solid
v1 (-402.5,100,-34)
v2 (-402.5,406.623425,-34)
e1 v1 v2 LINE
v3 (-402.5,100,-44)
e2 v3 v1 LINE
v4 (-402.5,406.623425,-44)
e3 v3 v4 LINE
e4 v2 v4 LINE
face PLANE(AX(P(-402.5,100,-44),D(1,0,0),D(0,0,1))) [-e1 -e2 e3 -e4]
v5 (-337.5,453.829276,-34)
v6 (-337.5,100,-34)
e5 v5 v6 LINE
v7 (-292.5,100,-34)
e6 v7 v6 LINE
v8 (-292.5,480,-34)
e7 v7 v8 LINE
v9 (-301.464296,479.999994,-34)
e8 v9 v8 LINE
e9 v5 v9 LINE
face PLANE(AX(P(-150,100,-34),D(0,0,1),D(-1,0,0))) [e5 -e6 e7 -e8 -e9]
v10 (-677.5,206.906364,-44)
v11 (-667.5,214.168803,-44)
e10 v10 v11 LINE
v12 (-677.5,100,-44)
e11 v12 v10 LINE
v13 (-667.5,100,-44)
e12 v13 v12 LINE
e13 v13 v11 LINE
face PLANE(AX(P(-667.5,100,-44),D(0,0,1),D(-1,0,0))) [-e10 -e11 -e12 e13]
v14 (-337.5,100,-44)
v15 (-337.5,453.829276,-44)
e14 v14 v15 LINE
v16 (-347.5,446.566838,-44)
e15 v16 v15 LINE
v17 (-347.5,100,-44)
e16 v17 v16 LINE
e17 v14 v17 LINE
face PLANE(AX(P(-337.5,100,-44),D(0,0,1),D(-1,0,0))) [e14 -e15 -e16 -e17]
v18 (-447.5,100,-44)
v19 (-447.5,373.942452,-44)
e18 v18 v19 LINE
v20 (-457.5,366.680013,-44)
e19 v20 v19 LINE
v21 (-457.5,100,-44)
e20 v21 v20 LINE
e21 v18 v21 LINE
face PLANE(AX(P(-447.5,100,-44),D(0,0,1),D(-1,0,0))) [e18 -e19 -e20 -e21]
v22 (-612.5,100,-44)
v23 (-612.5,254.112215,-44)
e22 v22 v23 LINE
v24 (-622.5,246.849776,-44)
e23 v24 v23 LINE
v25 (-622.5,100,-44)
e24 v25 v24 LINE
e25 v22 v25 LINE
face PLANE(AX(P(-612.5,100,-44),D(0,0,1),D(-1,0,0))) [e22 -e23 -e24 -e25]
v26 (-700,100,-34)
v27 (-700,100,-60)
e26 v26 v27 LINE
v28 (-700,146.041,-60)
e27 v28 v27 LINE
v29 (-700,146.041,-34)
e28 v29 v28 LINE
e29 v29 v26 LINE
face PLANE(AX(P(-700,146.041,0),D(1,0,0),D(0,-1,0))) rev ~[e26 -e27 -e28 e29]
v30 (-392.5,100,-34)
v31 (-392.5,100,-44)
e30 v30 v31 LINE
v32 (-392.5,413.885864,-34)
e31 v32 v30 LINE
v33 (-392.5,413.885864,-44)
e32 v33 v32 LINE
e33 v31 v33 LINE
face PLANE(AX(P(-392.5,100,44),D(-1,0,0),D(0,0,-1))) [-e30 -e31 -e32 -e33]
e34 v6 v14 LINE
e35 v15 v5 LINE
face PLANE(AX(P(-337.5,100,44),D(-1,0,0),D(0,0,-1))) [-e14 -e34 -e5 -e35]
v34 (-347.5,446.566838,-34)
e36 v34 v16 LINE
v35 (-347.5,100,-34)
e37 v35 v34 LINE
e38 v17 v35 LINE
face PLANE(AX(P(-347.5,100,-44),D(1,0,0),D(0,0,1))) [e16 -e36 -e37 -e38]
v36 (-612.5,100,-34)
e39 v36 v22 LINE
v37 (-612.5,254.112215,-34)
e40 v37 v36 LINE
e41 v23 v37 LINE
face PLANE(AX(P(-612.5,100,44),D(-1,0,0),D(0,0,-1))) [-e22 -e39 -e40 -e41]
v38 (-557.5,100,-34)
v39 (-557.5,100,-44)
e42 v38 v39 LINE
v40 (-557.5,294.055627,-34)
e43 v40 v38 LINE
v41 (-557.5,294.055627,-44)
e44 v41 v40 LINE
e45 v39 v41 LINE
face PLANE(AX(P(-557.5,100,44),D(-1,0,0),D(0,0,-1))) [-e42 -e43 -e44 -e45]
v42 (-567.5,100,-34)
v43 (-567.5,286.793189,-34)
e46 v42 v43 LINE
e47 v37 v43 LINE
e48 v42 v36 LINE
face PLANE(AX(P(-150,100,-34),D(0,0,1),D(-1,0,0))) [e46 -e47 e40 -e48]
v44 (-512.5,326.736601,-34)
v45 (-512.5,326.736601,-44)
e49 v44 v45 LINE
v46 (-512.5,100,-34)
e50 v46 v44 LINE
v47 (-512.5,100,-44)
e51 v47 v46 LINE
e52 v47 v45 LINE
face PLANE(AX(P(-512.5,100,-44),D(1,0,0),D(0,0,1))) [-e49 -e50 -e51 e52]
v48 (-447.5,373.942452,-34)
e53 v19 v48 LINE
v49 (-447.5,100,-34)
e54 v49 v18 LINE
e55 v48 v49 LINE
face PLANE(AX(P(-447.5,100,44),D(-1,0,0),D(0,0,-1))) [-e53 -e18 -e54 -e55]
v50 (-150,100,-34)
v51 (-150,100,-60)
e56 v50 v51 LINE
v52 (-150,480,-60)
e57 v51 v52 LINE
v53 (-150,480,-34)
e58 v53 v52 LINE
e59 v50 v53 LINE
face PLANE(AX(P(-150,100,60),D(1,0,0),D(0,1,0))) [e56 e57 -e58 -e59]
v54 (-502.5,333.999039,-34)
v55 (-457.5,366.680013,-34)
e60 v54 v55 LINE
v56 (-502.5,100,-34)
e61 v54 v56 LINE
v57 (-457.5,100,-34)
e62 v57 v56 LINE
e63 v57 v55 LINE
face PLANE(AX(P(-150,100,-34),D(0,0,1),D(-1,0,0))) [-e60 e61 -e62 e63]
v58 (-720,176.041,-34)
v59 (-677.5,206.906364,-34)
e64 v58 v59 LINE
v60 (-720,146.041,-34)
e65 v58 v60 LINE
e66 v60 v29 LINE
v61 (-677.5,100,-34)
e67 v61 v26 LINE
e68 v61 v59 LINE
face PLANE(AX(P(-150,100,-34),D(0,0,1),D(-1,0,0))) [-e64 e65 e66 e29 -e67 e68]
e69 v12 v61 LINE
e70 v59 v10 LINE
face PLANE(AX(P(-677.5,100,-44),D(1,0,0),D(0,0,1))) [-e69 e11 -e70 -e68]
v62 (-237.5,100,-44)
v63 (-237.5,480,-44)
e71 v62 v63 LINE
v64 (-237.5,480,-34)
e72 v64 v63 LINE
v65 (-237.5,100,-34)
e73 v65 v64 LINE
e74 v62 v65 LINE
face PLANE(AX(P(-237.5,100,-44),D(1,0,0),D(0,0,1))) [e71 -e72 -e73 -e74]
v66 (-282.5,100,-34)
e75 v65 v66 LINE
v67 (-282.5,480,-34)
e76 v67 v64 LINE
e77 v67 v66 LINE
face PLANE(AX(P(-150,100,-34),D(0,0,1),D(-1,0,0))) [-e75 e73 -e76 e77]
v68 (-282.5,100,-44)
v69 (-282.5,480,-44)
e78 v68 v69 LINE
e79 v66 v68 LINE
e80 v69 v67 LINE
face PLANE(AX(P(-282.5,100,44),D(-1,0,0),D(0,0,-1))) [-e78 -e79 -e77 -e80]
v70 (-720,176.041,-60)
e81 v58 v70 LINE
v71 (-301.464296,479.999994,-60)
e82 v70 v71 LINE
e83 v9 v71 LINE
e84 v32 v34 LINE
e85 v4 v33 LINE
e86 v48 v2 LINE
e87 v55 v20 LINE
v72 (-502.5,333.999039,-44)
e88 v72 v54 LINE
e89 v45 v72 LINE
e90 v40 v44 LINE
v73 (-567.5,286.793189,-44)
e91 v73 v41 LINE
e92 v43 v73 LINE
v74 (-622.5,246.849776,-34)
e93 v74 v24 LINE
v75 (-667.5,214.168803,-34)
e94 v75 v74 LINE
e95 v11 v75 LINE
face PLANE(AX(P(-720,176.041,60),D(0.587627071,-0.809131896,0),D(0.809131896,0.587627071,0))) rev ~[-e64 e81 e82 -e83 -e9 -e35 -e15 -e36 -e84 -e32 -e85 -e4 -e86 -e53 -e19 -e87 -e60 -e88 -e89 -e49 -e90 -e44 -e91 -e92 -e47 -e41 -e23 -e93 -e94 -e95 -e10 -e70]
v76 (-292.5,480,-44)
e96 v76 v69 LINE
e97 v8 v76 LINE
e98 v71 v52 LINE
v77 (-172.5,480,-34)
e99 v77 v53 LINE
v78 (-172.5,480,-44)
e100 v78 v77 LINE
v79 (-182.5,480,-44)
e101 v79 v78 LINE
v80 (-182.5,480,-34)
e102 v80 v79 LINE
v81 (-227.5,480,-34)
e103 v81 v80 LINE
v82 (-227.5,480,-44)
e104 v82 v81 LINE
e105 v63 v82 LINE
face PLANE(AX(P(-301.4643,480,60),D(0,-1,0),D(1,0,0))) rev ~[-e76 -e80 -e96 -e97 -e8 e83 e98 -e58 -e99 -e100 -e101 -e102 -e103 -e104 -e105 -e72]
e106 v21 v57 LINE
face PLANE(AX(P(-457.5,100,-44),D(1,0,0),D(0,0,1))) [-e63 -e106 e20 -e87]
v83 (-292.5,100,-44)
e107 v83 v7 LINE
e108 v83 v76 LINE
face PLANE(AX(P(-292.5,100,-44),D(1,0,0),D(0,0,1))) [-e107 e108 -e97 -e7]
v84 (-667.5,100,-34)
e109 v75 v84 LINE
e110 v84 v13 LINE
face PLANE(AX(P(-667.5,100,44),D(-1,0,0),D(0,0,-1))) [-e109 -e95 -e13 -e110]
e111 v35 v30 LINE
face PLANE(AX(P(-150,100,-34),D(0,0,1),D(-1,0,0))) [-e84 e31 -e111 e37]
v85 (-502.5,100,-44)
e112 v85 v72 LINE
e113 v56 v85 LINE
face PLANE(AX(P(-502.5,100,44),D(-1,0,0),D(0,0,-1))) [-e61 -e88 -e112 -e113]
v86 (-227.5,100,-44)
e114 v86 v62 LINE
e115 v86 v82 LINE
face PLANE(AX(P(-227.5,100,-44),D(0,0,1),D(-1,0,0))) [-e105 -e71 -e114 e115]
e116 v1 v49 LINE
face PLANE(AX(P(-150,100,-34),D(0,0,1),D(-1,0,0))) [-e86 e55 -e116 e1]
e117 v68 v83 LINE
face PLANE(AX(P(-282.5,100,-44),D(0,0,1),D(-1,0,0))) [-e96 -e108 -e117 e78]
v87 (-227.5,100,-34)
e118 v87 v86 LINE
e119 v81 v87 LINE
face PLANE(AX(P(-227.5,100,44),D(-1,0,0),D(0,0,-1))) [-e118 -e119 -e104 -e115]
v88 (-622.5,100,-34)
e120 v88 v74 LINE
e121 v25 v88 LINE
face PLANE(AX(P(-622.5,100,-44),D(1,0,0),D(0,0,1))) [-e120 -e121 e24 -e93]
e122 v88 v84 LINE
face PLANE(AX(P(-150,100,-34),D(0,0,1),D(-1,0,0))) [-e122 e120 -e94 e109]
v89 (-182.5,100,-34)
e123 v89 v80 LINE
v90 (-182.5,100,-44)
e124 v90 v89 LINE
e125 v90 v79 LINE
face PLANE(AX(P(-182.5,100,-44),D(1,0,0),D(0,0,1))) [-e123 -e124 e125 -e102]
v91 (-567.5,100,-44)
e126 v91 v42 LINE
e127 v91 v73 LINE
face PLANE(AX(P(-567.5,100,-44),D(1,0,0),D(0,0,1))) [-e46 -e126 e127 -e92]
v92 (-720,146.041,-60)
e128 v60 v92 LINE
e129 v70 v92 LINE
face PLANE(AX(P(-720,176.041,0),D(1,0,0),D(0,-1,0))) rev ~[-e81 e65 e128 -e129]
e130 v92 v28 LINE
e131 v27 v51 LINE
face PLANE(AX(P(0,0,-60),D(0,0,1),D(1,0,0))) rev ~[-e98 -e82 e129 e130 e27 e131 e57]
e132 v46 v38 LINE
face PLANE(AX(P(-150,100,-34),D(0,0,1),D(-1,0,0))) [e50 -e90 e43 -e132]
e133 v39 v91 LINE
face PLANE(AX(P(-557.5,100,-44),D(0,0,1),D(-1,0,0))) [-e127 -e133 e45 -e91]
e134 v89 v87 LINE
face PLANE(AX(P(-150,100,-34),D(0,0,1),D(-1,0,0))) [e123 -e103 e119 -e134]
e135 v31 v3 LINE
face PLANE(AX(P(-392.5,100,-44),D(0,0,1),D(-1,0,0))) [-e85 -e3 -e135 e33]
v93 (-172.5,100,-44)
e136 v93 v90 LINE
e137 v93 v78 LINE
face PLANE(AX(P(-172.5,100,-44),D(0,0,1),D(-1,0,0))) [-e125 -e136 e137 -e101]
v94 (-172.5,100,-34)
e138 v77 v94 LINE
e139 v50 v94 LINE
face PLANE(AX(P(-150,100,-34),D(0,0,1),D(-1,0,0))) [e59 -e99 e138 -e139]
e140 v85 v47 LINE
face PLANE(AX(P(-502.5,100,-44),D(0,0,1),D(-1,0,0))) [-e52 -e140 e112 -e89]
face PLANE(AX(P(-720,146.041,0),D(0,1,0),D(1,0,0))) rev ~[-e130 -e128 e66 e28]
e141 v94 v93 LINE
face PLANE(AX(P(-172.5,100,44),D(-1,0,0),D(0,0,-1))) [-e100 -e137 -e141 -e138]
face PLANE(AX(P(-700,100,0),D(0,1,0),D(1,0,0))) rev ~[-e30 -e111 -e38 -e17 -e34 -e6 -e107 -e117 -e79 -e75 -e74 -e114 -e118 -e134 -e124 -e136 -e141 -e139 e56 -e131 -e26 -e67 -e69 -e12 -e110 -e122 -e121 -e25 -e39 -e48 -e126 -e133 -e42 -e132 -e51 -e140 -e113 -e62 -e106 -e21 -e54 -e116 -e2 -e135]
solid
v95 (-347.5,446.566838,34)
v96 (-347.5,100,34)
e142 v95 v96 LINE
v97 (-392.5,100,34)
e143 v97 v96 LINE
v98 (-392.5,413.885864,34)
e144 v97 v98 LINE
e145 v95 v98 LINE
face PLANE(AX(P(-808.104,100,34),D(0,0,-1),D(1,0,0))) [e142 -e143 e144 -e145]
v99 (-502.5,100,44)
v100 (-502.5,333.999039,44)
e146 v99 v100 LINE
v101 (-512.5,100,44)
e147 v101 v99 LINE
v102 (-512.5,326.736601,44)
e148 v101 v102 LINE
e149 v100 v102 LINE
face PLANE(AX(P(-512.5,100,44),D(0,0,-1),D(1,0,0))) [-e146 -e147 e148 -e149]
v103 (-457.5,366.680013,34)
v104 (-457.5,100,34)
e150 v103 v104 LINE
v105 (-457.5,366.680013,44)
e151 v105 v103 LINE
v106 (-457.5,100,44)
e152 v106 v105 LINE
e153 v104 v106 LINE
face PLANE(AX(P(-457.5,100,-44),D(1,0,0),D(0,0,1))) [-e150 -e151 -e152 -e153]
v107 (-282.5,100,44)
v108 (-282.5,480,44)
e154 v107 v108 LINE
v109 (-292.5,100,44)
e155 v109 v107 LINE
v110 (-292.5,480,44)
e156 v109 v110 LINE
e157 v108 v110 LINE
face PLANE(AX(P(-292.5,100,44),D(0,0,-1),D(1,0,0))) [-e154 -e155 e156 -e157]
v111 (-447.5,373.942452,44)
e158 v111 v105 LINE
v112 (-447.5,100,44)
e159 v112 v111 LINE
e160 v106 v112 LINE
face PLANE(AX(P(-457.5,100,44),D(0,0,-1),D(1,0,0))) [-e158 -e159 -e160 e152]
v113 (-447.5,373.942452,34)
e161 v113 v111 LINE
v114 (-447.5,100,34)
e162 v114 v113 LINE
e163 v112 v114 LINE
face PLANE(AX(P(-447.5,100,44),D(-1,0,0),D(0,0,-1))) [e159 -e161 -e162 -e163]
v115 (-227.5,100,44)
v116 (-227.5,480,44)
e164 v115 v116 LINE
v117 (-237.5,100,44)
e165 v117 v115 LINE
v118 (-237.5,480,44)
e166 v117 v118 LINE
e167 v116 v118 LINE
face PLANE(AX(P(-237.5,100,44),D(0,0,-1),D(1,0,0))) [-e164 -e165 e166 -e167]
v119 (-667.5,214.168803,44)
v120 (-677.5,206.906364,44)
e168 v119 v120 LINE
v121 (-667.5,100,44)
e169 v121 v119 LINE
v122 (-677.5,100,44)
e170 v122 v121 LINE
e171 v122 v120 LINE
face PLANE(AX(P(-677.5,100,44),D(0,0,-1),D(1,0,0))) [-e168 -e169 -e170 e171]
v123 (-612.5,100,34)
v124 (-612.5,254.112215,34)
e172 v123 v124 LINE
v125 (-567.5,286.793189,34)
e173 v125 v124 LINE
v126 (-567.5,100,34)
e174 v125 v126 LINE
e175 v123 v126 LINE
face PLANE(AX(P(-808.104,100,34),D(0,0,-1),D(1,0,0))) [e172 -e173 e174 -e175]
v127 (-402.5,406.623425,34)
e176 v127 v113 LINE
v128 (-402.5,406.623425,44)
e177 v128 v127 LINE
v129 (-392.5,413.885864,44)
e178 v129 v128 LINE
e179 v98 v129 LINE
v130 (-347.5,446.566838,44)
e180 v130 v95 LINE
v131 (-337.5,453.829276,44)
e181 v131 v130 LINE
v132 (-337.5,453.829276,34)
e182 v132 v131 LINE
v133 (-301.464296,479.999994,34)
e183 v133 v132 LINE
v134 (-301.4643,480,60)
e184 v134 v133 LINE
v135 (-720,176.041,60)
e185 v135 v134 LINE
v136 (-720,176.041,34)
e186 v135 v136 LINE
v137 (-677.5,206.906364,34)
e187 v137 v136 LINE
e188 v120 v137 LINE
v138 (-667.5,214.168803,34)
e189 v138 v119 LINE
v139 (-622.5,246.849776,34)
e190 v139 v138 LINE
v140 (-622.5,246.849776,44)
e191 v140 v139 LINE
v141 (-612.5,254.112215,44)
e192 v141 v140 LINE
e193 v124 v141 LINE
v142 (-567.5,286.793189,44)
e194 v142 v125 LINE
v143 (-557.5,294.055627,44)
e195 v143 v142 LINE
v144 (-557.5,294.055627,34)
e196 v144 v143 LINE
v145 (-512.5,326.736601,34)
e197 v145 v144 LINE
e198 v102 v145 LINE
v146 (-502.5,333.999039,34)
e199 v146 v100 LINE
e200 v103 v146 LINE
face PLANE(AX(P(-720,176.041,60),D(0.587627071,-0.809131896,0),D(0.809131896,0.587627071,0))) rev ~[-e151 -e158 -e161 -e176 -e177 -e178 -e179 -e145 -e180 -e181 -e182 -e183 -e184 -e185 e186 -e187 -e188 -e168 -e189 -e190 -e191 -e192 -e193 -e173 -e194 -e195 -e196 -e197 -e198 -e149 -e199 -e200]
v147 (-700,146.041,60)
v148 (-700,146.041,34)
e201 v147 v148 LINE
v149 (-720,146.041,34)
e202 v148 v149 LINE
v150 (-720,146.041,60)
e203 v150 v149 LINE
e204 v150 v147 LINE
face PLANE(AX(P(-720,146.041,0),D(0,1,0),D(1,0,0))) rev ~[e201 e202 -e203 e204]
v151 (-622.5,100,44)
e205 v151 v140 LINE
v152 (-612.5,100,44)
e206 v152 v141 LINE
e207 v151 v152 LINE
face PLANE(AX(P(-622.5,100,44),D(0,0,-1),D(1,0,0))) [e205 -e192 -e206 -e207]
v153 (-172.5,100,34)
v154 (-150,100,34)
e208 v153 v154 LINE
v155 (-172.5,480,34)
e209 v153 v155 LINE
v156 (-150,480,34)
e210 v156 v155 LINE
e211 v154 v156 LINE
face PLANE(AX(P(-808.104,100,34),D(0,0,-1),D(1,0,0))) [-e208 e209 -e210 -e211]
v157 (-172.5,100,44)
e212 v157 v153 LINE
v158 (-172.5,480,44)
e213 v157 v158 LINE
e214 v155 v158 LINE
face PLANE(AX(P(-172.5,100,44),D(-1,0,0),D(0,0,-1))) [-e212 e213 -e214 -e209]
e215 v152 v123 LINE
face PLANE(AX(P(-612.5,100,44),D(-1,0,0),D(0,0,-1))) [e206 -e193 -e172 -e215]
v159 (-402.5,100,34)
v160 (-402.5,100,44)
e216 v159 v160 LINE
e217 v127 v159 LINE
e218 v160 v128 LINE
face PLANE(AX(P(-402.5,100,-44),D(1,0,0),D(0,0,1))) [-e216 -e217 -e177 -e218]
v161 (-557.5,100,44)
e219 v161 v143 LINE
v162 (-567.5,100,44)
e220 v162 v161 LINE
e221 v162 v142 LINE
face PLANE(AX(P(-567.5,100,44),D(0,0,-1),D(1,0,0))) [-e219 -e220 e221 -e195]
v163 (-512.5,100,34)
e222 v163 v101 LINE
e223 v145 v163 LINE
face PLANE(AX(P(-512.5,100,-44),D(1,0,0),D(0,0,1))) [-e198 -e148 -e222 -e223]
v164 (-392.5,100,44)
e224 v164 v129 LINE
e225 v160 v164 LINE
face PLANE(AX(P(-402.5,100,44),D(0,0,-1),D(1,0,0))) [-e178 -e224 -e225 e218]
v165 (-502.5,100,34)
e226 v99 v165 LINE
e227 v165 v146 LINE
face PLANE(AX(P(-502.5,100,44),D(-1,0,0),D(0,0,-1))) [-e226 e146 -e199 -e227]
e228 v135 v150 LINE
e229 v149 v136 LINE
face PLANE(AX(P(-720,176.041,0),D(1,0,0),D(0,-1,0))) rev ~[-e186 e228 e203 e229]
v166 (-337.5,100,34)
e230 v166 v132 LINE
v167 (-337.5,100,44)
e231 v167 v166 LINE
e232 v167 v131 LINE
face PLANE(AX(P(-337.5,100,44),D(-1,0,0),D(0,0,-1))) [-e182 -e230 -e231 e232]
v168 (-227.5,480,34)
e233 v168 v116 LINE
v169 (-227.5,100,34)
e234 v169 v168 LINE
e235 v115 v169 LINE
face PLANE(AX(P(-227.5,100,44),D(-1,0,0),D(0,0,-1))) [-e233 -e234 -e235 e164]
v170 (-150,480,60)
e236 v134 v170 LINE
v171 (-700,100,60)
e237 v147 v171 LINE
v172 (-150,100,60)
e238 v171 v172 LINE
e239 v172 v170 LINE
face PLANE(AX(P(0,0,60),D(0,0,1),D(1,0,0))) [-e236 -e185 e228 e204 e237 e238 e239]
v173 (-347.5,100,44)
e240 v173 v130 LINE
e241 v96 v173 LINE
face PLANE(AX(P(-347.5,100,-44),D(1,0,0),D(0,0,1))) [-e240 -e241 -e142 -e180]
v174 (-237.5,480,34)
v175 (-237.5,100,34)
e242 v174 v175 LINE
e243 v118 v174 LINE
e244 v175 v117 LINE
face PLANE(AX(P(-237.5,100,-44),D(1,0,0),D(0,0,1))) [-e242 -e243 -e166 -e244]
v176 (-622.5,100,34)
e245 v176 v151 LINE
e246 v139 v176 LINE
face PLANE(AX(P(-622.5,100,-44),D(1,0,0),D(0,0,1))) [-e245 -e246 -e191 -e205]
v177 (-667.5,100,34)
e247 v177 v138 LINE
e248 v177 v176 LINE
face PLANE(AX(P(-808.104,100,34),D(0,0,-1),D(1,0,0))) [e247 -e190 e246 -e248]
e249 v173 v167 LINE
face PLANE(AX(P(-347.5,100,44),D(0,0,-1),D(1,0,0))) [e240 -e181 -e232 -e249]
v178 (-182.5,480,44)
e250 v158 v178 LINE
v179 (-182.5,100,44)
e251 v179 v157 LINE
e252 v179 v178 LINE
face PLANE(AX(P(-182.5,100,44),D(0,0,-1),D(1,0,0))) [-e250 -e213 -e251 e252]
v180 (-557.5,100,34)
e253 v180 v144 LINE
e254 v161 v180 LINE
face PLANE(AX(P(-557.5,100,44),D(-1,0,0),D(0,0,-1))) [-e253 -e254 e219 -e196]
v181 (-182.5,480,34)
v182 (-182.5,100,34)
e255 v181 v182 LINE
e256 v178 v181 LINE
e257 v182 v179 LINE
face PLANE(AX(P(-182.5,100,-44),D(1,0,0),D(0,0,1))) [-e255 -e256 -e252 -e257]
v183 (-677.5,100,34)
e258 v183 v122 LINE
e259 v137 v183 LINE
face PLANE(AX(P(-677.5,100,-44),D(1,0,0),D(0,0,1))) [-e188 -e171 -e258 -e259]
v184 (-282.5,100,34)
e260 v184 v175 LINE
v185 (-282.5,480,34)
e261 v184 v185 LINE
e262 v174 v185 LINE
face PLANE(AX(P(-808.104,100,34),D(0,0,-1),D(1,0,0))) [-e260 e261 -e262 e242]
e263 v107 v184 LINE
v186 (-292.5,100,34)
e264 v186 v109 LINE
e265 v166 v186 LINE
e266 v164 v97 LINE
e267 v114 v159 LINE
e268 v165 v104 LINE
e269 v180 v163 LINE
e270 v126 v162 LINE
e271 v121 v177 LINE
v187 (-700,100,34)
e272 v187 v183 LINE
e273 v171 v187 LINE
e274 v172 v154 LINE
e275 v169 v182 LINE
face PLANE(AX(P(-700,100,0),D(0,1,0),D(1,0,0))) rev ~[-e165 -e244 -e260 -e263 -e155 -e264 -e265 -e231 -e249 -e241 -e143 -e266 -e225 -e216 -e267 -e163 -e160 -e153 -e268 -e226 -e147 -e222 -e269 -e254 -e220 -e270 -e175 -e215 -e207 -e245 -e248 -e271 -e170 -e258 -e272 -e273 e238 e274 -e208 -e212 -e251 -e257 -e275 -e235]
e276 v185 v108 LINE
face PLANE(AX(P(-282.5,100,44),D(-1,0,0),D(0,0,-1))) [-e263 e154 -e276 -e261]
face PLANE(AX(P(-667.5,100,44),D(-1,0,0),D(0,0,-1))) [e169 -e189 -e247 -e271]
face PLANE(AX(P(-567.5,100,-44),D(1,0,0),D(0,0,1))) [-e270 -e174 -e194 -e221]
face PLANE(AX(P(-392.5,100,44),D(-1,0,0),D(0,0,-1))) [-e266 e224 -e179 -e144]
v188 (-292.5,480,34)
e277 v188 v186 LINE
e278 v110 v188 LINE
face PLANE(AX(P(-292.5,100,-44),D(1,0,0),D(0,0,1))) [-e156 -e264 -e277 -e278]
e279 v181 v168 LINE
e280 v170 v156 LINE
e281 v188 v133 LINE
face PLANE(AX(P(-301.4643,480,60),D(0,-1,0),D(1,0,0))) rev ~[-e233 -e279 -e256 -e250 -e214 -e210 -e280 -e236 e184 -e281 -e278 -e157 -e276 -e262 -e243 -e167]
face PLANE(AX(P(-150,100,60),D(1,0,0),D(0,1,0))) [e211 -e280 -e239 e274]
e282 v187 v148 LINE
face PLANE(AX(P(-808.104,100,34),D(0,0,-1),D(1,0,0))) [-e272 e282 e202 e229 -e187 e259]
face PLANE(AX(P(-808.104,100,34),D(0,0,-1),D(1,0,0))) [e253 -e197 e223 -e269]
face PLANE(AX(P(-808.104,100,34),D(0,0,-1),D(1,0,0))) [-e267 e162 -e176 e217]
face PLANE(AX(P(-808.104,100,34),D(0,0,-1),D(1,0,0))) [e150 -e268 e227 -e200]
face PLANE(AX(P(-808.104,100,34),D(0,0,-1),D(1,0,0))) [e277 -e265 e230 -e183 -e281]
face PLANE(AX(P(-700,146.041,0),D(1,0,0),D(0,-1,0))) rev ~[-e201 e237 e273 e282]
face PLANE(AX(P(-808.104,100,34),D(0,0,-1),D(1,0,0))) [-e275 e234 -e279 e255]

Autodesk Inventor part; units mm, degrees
ref_plane "YZ Plane" through (0, 0, 0) normal (1, 0, 0) x (0, 1, 0)
ref_plane "XZ Plane" through (0, 0, 0) normal (0, 1, 0) x (-1, 0, 0)
ref_plane "XY Plane" through (0, 0, 0) normal (0, 0, 1) x (1, 0, 0)
sketch "草圖1" plane through (0, 0, 0) normal (0, 0, 1) x (1, 0, 0)
  line L0 (0, 0) -> (0, 800)
  line L1 (0, 800) -> (-150, 800)
  line L2 (-150, 800) -> (-720, 176.041)
  line L3 (-700, 100) -> (-150, 100)
  line L4 (-150, 100) -> (-150, 0)
  line L5 (-150, 0) -> (0, 0)
  line L6 (-720, 176.041) -> (-720, 146.041)
  line L7 (-720, 146.041) -> (-700, 146.041)
  line L8 (-700, 146.041) -> (-700, 100)
  dimension "d0" = 150
  dimension "d1" = 150
  dimension "d3" = 800
  dimension "d4" = 100
  dimension "d5" = 720
  dimension "d6" = 20
  dimension "d8" = 30
  dimension "d9" = 146.041
extrude "擠出1" add sketch "草圖1" along normal mid plane 120
sketch "草圖2" plane through (-700, 100, 60) normal (0, -1, 0) x (1, 0, 0)
  line L0 (700, -120) -> (550, -120) construction
  line L1 (550, -120) -> (0, -120) construction
  line L2 (0, -120) -> (0, 0) construction
  line L3 (0, 0) -> (550, 0) construction
  line L4 (550, 0) -> (700, 0) construction
  line L5 (700, 0) -> (700, -120) construction
  line L6 (550, -120) -> (550, 0) construction
  line L7 (-108.104, -26) -> (550, -26)
  line L8 (550, -26) -> (550, -94)
  line L9 (550, -94) -> (-108.104, -94)
  line L10 (-108.104, -94) -> (-108.104, -26)
  point P0 (700, -60)
  point P1 (550, -60)
  dimension "d12" = 68
extrude "擠出2" cut sketch "草圖2" against normal through all
sketch "草圖3" plane through (-150, 0, 60) normal (-1, 0, 0) x (0, 0, 1)
  line L0 (-26, 100) -> (-26, 800) projected
  line L1 (-26, 800) -> (0, 800) projected
  line L2 (0, 800) -> (0, 100) projected
  line L3 (0, 100) -> (-26, 100) projected
  line L4 (-94, 800) -> (-26, 800) projected
  line L5 (-120, 800) -> (-94, 800) projected
  line L6 (-120, 100) -> (-120, 800) projected
  line L7 (-94, 100) -> (-120, 100) projected
  line L8 (-94, 800) -> (-94, 100) projected
  line L9 (0, 100) -> (0, 0) projected
  line L10 (0, 0) -> (-120, 0) projected
  line L11 (-120, 0) -> (-120, 100) projected
  circle A0 centre (-60, 50) radius 10
  point P0 (-60, 0)
  point P1 (-60, 0)
  dimension "d15" = 50
  dimension "d16" = 20
extrude "擠出3" cut sketch "草圖3" against normal through all contours A0
sketch "草圖4" plane through (-700, 100, 60) normal (0, -1, 0) x (1, 0, 0)
  line L0 (700, -120) -> (550, -120) construction
  line L1 (550, -120) -> (0, -120) construction
  line L2 (0, -120) -> (0, -94) construction
  line L3 (0, -94) -> (550, -94) construction
  line L4 (550, -94) -> (550, -26) construction
  line L5 (550, -26) -> (0, -26) construction
  line L6 (0, -26) -> (0, 0) construction
  line L7 (0, 0) -> (550, 0) construction
  line L8 (550, 0) -> (700, 0) construction
  line L9 (700, 0) -> (700, -120) construction
  line L10 (550, -120) -> (550, -94) construction
  line L11 (550, -26) -> (550, 0) construction
  line L12 (22.5, -16) -> (32.5, -16)
  line L13 (32.5, -16) -> (32.5, -104)
  line L14 (32.5, -104) -> (22.5, -104)
  line L15 (22.5, -104) -> (22.5, -16)
  line L16 (0.5, 0) -> (54.5, 0) construction
  line L17 (54.5, 0) -> (54.5, -120) construction
  line L18 (54.5, -120) -> (0.5, -120) construction
  line L19 (0.5, -120) -> (0.5, 0) construction
  point P0 (700, -60)
  point P1 (27.5, -16)
  point P2 (27.5, 0)
  dimension "d21" = 0.5
  dimension "d22" = 54
  dimension "d23" = 10
  dimension "d24" = 10
  dimension "d25" = 10
extrude "擠出4" cut sketch "草圖4" against normal blind 911.5
pattern_linear "矩形陣列1" count 10 spacing 55 along (1, 0, 0) of "擠出4"
sketch "草圖5" plane through (0, 0, 60) normal (0, 0, 1) x (1, 0, 0)
  line L0 (0, 800) -> (0, 0) projected
  line L1 (0, 0) -> (-150, 0) projected
  line L2 (-150, 0) -> (-150, 100) projected
  line L3 (-150, 100) -> (-700, 100) projected
  line L4 (-700, 100) -> (-700, 146.041) projected
  line L5 (-700, 146.041) -> (-720, 146.041) projected
  line L6 (-720, 146.041) -> (-720, 176.041) projected
  line L7 (-720, 176.041) -> (-150, 800) projected
  line L8 (-150, 800) -> (0, 800) projected
  line L9 (-150, 100) -> (-150, 800) projected
  line L10 (-150, 100) -> (-150, 800)
extrude "擠出5" cut sketch "草圖5" against normal through all contours L0 L1 L2 L9 L8
sketch "草圖6" plane through (0, 0, 60) normal (0, 0, 1) x (1, 0, 0)
  line L0 (-150, 800) -> (-150, 100) projected
  line L1 (-150, 100) -> (-700, 100) projected
  line L2 (-700, 100) -> (-700, 146.041) projected
  line L3 (-700, 146.041) -> (-720, 146.041) projected
  line L4 (-720, 146.041) -> (-720, 176.041) projected
  line L5 (-720, 176.041) -> (-150, 800) projected
  line L6 (-720, 176.041) -> (-150, 590)
  line L7 (-150, 100) -> (-150, 800) projected
  point P0 (0, 0)
  point P1 (-150, 590)
  dimension "d33" = 210
extrude "擠出6" cut sketch "草圖6" against normal through all contours L0 L6 L5
sketch "草圖7" plane through (0, 0, 60) normal (0, 0, 1) x (1, 0, 0)
  line L0 (-720, 146.041) -> (-720, 176.041) projected
  line L1 (-720, 176.041) -> (-150, 590) projected
  line L2 (-150, 590) -> (-150, 100) projected
  line L3 (-150, 100) -> (-700, 100) projected
  line L4 (-700, 100) -> (-700, 146.041) projected
  line L5 (-700, 146.041) -> (-720, 146.041) projected
  line L6 (-301.4643, 480) -> (-150, 480)
  point P0 (0, 0)
  dimension "d36" = 380
extrude "擠出7" cut sketch "草圖7" against normal through all contours L1 L2 L6
properties part number "Rising agency"
